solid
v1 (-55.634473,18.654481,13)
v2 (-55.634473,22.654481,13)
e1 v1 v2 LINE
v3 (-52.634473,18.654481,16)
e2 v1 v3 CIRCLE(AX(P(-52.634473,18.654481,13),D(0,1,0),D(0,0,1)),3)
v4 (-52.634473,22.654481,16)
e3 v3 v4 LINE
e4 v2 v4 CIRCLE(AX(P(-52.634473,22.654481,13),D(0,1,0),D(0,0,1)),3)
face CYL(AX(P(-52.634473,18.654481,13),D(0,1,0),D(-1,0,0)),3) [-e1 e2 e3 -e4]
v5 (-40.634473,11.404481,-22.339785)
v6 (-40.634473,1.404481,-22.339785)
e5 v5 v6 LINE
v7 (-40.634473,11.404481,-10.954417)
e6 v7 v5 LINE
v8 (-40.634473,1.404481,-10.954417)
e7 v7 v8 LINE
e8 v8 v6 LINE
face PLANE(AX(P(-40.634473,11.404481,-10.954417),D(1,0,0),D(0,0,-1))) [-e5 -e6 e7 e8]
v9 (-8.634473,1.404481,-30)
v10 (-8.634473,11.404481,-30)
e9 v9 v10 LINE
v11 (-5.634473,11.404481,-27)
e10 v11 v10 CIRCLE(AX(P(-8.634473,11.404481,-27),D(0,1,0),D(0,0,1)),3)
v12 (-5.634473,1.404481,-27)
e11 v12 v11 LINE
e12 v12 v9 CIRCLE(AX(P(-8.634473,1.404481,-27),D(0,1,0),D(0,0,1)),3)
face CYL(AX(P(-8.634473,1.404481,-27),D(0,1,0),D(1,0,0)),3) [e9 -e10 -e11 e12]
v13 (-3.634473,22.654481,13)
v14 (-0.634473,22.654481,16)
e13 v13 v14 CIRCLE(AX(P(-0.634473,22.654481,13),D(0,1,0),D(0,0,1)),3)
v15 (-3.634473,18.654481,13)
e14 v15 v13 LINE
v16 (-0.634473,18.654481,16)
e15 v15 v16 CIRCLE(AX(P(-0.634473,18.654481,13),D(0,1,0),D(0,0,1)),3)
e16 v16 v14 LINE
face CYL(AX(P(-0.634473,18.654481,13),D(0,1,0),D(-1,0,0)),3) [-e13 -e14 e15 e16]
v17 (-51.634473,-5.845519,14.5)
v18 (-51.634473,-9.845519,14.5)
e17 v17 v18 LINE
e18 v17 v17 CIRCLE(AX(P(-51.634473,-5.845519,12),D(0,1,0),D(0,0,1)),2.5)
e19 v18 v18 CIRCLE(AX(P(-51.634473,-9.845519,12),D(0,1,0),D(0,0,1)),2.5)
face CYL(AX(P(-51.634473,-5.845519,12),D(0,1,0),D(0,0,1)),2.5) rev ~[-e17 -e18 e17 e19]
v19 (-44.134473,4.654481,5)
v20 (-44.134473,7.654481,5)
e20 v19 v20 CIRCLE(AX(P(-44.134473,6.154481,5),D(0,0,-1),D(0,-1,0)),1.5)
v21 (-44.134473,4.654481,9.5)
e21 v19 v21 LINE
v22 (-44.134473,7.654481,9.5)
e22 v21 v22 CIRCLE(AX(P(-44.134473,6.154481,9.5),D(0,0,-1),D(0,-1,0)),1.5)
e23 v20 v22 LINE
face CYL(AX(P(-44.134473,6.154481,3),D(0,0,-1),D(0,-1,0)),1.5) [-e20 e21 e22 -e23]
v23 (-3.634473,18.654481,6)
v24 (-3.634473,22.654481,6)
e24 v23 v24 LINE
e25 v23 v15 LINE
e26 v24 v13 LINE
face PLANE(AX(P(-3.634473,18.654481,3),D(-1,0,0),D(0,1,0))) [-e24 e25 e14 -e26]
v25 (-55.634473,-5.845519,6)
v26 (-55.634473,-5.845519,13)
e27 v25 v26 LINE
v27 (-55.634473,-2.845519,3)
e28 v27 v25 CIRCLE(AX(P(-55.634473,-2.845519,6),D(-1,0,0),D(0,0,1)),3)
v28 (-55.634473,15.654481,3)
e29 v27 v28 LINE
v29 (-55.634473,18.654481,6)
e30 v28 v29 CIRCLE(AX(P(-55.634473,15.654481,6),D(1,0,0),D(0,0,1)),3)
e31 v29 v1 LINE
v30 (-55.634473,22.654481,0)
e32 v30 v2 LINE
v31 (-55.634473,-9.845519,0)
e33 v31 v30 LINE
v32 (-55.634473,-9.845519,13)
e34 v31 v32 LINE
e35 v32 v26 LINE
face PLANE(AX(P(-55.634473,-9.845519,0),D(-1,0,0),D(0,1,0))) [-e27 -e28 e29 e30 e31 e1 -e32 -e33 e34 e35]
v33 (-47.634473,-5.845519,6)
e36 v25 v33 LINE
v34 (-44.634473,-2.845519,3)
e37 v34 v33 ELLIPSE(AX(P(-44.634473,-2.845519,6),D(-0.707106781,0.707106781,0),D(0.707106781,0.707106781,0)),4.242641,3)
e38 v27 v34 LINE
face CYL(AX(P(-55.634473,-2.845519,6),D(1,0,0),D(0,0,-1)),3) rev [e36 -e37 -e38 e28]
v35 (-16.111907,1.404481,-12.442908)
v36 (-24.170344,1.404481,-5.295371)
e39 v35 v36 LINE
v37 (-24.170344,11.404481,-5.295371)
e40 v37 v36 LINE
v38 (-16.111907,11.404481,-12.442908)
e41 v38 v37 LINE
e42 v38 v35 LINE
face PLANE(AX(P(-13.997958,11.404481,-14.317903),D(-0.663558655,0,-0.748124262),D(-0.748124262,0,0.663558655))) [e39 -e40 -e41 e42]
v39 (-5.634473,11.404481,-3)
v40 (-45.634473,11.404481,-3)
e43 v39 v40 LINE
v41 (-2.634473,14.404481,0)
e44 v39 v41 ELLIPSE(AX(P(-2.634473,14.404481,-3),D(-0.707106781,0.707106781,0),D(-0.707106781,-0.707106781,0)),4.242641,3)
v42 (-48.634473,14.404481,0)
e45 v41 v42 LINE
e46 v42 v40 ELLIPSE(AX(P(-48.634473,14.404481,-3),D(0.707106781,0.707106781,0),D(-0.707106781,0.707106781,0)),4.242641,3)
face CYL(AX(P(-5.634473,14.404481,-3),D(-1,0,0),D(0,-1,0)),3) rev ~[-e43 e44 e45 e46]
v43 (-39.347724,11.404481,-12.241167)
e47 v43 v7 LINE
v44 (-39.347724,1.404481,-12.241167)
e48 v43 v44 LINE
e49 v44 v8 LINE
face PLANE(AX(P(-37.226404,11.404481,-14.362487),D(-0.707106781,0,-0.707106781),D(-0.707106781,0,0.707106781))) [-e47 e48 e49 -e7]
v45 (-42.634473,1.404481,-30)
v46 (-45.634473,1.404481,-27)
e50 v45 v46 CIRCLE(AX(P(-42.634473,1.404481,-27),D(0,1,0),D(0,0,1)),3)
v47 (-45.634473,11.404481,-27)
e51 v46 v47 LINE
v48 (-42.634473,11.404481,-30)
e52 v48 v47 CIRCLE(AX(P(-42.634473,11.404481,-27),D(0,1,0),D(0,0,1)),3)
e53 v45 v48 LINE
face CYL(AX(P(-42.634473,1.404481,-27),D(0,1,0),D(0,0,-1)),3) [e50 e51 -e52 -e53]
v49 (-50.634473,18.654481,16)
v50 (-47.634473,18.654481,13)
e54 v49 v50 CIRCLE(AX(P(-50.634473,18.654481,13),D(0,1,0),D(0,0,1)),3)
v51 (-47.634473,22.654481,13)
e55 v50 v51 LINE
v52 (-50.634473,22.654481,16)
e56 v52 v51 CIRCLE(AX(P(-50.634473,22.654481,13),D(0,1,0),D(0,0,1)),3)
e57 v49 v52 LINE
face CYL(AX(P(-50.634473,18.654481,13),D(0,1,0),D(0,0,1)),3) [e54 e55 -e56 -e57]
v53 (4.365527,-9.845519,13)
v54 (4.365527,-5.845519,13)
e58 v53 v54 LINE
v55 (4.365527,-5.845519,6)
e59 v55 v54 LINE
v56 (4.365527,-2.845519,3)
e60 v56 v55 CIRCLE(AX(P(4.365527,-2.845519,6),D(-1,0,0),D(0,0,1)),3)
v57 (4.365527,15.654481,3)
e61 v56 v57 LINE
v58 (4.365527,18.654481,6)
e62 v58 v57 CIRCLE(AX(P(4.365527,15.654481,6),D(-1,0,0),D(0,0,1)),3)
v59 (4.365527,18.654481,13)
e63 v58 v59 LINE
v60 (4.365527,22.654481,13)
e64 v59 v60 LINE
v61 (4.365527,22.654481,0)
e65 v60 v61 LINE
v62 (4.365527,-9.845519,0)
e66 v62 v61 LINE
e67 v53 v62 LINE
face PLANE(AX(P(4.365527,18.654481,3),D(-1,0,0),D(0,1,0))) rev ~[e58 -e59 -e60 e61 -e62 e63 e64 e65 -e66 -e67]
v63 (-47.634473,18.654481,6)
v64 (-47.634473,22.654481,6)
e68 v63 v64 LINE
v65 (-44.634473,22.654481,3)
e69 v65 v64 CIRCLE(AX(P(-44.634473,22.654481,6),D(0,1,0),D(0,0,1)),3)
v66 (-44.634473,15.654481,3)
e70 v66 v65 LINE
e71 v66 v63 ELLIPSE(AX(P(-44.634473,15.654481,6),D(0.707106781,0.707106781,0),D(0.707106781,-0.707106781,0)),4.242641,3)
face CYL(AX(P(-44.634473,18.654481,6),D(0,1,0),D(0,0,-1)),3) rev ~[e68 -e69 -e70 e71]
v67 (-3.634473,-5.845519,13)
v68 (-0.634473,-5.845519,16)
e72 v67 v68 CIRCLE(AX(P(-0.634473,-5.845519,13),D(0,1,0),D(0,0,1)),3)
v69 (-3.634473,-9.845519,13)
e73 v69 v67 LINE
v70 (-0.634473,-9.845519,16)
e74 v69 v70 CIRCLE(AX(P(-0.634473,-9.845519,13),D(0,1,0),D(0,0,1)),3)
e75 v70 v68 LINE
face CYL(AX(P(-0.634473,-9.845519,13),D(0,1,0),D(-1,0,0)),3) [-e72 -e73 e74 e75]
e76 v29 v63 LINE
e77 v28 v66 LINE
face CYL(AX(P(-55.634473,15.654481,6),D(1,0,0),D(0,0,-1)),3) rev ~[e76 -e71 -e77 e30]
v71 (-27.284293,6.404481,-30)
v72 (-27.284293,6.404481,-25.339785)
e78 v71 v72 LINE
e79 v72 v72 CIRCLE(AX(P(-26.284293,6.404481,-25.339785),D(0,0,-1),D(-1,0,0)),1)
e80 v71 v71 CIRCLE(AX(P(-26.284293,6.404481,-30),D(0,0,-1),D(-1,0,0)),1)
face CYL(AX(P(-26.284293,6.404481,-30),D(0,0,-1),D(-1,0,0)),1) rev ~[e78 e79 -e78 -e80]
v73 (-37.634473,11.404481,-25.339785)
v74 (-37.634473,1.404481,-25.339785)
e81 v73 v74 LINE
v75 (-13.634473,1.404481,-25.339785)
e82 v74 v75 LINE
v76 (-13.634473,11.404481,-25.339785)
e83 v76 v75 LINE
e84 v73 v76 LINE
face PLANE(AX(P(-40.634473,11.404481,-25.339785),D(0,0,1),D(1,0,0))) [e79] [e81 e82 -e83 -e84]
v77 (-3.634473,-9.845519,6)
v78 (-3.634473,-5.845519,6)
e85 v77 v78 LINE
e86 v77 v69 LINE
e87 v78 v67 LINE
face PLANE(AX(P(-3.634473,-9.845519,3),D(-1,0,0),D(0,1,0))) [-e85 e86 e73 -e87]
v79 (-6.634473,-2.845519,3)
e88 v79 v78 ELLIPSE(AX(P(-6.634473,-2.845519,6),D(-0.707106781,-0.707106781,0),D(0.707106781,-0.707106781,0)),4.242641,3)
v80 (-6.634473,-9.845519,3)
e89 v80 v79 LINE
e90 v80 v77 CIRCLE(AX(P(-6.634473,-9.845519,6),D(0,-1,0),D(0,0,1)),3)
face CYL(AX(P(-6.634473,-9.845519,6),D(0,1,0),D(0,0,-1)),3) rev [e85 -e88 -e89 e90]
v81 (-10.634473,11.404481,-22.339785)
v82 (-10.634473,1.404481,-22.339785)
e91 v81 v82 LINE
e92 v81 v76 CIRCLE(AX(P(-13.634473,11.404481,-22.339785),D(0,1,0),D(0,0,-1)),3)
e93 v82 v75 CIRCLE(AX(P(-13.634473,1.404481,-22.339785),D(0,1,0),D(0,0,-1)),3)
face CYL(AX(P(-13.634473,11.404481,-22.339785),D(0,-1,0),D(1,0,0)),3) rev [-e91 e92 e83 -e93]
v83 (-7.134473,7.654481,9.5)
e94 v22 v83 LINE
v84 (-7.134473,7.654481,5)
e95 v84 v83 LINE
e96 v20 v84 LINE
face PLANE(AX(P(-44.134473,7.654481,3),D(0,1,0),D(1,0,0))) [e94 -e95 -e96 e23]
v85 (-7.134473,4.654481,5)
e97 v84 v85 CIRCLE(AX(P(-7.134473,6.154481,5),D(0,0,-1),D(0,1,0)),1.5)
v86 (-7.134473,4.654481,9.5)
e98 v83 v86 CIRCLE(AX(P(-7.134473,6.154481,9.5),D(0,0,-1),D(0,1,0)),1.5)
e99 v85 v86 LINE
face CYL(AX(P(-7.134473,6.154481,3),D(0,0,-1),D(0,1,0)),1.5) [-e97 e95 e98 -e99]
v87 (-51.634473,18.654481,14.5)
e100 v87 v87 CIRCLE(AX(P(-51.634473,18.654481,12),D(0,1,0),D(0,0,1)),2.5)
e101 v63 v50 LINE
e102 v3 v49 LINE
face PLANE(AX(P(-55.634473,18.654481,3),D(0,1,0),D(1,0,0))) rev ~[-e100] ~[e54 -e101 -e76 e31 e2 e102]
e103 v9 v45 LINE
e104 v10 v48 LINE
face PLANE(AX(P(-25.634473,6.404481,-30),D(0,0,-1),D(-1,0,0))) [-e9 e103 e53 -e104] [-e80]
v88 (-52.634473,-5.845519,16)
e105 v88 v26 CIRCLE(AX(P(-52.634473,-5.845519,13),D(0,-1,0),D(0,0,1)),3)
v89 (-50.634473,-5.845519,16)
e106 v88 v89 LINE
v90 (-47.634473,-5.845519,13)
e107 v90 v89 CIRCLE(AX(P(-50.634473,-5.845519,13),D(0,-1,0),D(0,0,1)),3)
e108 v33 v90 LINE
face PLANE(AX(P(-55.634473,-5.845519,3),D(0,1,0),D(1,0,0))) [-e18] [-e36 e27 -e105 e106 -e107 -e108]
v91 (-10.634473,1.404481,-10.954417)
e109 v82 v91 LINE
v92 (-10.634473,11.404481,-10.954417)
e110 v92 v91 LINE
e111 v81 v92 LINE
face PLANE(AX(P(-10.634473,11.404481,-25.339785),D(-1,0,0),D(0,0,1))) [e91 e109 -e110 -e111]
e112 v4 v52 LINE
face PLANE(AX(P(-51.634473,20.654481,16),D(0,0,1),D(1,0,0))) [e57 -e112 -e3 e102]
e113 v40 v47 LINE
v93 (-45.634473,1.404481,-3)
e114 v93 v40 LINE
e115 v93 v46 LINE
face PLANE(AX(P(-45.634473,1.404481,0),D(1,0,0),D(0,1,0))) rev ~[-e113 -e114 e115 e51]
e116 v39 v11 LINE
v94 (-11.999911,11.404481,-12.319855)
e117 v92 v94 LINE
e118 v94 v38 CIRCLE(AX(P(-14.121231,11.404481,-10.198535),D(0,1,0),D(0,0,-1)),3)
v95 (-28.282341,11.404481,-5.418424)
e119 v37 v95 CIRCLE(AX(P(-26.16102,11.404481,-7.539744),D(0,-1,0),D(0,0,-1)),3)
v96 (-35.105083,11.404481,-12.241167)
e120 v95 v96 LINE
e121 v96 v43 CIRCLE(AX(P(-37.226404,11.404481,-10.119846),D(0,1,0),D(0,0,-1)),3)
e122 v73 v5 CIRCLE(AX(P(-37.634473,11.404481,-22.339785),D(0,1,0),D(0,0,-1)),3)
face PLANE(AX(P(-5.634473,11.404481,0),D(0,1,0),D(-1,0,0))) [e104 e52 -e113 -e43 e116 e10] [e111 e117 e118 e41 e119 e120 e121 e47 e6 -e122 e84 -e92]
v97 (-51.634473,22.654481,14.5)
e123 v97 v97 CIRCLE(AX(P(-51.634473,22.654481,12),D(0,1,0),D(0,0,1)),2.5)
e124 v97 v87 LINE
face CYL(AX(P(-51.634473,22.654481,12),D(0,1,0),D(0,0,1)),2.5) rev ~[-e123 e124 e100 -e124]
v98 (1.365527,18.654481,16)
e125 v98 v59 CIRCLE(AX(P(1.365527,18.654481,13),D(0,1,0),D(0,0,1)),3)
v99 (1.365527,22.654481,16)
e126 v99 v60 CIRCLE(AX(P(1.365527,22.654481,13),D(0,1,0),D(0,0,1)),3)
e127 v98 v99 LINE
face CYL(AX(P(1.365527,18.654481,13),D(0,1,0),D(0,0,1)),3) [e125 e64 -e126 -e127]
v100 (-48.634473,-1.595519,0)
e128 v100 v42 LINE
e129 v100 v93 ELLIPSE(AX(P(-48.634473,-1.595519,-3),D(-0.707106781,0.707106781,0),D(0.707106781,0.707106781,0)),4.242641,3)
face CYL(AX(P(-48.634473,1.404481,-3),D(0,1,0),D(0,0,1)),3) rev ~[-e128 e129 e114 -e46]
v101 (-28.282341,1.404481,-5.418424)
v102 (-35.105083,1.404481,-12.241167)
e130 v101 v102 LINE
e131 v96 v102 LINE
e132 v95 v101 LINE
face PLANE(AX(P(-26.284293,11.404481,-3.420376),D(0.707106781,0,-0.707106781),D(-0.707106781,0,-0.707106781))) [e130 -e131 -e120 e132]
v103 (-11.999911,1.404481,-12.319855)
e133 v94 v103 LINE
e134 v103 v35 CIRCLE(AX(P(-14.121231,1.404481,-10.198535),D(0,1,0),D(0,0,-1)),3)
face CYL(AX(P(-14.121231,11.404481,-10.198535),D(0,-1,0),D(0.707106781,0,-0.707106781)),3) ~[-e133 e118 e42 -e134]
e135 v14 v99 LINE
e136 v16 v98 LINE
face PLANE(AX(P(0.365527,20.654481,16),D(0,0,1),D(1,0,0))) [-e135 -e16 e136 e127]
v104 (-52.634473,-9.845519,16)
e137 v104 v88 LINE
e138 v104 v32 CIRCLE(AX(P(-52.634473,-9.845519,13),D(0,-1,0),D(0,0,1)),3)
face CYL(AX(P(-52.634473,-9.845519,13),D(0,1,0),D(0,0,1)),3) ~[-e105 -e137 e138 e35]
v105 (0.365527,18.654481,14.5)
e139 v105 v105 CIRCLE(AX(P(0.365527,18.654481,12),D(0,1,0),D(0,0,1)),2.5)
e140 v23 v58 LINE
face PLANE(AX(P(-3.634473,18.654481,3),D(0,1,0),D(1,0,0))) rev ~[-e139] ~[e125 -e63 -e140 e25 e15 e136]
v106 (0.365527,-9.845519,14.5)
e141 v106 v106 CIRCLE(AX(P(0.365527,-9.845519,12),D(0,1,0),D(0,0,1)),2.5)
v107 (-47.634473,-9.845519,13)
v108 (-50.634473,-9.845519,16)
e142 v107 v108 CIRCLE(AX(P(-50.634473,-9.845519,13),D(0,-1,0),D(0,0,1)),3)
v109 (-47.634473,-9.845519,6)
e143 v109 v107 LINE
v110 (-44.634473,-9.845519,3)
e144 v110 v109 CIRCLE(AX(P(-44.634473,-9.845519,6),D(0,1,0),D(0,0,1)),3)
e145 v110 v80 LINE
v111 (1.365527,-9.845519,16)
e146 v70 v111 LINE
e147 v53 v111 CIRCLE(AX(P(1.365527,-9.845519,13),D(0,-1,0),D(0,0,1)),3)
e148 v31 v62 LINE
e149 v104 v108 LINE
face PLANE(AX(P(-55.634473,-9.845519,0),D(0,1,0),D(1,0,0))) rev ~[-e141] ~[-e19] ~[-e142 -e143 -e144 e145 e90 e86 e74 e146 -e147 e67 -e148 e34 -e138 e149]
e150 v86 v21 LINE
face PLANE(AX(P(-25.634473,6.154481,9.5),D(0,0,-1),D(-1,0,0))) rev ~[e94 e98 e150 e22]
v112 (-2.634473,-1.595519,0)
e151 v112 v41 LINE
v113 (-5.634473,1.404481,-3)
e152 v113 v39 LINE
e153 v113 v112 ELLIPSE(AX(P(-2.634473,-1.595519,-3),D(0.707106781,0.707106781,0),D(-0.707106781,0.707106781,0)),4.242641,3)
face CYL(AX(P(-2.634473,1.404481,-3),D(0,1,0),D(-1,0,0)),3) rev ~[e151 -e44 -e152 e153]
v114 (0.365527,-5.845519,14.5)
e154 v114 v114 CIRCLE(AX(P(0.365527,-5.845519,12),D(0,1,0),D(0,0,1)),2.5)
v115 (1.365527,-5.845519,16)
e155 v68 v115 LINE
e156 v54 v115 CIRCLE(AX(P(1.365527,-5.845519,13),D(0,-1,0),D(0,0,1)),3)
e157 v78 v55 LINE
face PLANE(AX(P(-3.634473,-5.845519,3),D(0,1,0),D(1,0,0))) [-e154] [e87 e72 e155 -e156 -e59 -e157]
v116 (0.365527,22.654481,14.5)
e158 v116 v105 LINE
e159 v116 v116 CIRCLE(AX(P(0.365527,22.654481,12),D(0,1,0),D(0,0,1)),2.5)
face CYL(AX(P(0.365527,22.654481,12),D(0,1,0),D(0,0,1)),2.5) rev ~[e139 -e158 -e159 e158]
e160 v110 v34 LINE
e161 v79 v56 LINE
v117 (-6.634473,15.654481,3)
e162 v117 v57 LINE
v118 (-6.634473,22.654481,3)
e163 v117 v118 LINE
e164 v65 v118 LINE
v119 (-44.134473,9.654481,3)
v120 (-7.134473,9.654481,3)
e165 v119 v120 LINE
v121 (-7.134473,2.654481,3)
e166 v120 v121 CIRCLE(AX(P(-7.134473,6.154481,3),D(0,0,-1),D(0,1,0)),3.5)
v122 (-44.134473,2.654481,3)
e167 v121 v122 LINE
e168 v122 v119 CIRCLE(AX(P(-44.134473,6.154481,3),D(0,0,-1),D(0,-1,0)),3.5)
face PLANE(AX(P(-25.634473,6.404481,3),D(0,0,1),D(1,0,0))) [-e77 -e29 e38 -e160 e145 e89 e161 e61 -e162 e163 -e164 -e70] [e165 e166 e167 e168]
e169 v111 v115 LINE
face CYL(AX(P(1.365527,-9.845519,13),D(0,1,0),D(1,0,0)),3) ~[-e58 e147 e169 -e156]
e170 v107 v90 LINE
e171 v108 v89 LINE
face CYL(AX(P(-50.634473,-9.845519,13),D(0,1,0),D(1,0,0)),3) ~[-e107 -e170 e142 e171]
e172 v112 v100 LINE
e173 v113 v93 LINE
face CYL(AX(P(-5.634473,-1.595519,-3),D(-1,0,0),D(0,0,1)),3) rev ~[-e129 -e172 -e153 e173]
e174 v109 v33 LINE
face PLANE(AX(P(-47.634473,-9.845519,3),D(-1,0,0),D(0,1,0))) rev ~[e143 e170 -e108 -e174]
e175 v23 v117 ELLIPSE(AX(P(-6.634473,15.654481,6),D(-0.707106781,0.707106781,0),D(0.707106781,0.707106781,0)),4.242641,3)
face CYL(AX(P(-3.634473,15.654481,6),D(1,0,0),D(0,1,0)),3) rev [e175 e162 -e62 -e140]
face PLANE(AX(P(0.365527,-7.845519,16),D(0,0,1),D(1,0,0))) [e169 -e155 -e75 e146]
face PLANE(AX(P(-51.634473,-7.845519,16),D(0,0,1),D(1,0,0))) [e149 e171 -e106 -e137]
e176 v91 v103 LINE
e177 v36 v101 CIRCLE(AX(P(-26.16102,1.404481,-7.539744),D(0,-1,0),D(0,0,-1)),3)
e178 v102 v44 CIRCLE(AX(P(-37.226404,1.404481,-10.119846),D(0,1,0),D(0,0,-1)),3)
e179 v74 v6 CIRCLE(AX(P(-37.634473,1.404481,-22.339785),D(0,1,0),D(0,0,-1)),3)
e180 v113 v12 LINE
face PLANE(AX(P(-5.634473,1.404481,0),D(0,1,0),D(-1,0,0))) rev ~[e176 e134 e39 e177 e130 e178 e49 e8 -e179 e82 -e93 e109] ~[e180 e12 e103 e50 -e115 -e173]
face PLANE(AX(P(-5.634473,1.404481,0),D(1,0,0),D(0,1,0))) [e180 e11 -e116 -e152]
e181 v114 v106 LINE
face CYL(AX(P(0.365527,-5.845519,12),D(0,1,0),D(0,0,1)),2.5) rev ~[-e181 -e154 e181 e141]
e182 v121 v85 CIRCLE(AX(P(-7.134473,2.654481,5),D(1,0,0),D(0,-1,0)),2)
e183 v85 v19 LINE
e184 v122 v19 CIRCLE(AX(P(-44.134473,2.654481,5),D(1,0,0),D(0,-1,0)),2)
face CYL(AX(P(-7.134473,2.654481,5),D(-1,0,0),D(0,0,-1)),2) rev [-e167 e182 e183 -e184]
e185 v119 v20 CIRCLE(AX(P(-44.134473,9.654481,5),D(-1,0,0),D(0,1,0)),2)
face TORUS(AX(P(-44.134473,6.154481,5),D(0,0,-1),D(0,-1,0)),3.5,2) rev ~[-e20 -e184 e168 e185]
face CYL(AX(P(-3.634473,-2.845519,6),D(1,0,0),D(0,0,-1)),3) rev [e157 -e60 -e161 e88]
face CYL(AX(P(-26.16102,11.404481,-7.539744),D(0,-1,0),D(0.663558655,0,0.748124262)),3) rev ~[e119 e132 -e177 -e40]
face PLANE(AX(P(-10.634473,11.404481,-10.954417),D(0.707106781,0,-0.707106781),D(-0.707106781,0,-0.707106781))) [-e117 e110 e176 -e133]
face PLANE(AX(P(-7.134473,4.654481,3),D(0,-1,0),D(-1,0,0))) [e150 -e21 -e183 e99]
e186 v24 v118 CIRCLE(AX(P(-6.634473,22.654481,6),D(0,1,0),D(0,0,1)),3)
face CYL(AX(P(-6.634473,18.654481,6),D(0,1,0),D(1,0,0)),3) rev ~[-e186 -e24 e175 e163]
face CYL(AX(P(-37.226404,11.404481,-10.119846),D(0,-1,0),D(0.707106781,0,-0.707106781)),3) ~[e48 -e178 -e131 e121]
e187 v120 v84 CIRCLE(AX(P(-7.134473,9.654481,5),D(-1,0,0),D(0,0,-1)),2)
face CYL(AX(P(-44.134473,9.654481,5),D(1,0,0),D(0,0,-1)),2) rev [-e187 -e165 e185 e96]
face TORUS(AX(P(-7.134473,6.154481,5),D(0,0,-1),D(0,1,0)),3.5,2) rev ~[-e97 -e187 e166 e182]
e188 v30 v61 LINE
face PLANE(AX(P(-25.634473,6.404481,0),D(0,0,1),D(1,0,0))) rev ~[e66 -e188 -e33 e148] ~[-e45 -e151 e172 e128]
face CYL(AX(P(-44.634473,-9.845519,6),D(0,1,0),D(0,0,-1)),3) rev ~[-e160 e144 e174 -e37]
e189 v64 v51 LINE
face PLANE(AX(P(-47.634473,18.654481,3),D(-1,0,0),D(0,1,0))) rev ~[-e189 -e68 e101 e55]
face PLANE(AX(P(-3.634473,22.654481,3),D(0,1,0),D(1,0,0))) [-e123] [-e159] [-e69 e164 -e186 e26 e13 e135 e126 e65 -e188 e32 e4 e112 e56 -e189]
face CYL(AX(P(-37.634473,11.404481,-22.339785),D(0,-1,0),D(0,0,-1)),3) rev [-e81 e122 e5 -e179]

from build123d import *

# Parameters (mm, degrees)
SKETCH2_W           = 60
SKETCH2_H           = 32.5
BOSS_EXTRUDE1_DEPTH = 3
SKETCH3_W           = 8
SKETCH3_H           = 4
BOSS_EXTRUDE2_DEPTH = 13
FILLET1_R           = 3
SKETCH4_R           = 2.5
CUT_EXTRUDE1_DEPTH  = 13
SKETCH5_R           = 2.5
CUT_EXTRUDE2_DEPTH  = 13
FILLET2_R           = 3
BOSS_EXTRUDE3_DEPTH = 6.5
FILLET3_R           = 2
SKETCH7_W           = 40
SKETCH7_H           = 10
BOSS_EXTRUDE4_DEPTH = 30
CUT_EXTRUDE3_DEPTH  = 30
FILLET5_R           = 3
SKETCH9_R           = 1
CUT_EXTRUDE4_DEPTH  = 5
FILLET6_R           = 3
FILLET7_R           = 3
FILLET8_R           = 3


with BuildPart() as part:
    # Sketch2 → Boss-Extrude1 (new body)
    with BuildSketch(Plane.XY):
        with Locations((-25.634473236, 6.404480792)):
            Rectangle(SKETCH2_W, SKETCH2_H)
    extrude(amount=BOSS_EXTRUDE1_DEPTH)

    # Sketch3 → Boss-Extrude2 (add)
    with BuildSketch(Plane.XY.offset(3)):
        with Locations((0.365526764, 20.654480792)):
            Rectangle(SKETCH3_W, SKETCH3_H)
        with Locations((0.365526764, -7.845519208)):
            Rectangle(SKETCH3_W, SKETCH3_H)
        with Locations((-51.634473236, 20.654480792)):
            Rectangle(SKETCH3_W, SKETCH3_H)
        with Locations((-51.634473236, -7.845519208)):
            Rectangle(SKETCH3_W, SKETCH3_H)
    extrude(amount=BOSS_EXTRUDE2_DEPTH)

    # Fillet1
    fillet1_edges = [part.edges().sort_by_distance(p)[0] for p in [
        (-55.634473236, 20.654480792, 16),
        (-47.634473236, 20.654480792, 16),
        (-55.634473236, -7.845519208, 16),
        (-47.634473236, -7.845519208, 16),
        (-3.634473236, -7.845519208, 16),
        (4.365526764, -7.845519208, 16),
        (-3.634473236, 20.654480792, 16),
        (4.365526764, 20.654480792, 16),
    ]]
    fillet(fillet1_edges, radius=FILLET1_R)

    # Sketch4 → Cut-Extrude1 (cut)
    with BuildSketch(Plane(origin=(0, 22.654480792, 0), x_dir=(1, 0, 0), z_dir=(0, 1, 0))):
        with Locations((0.365526764, -12)):
            Circle(SKETCH4_R)
        with Locations((-51.634473236, -12)):
            Circle(SKETCH4_R)
    extrude(amount=-CUT_EXTRUDE1_DEPTH, mode=Mode.SUBTRACT)

    # Sketch5 → Cut-Extrude2 (cut)
    with BuildSketch(Plane(origin=(0, -5.845519208, 0), x_dir=(1, 0, 0), z_dir=(0, 1, 0))):
        with Locations((-51.634473236, -12)):
            Circle(SKETCH5_R)
        with Locations((0.365526764, -12)):
            Circle(SKETCH5_R)
    extrude(amount=-CUT_EXTRUDE2_DEPTH, mode=Mode.SUBTRACT)

    # Fillet2
    fillet2_edges = [part.edges().sort_by_distance(p)[0] for p in [
        (-51.634473236, 18.654480792, 3),
        (-47.634473236, 20.654480792, 3),
        (-47.634473236, -7.845519208, 3),
        (-51.634473236, -5.845519208, 3),
        (-3.634473236, -7.845519208, 3),
        (0.365526764, -5.845519208, 3),
        (0.365526764, 18.654480792, 3),
        (-3.634473236, 20.654480792, 3),
    ]]
    fillet(fillet2_edges, radius=FILLET2_R)

    # Sketch6 → Boss-Extrude3 (add)
    with BuildSketch(Plane.XY.offset(3)):
        with BuildLine():
            Line((-44.134473236, 7.654480792), (-7.134473236, 7.654480792))
            ThreePointArc((-7.134473236, 7.654480792), (-5.634473236, 6.154480792), (-7.134473236, 4.654480792))
            Line((-7.134473236, 4.654480792), (-44.134473236, 4.654480792))
            ThreePointArc((-44.134473236, 4.654480792), (-45.634473236, 6.154480792), (-44.134473236, 7.654480792))
        make_face()
    extrude(amount=BOSS_EXTRUDE3_DEPTH)

    # Fillet3
    fillet3_edges = [part.edges().sort_by_distance(p)[0] for p in [
        (-5.634473236, 6.154480792, 3),
        (-25.634473236, 4.654480792, 3),
        (-45.634473236, 6.154480792, 3),
        (-25.634473236, 7.654480792, 3),
    ]]
    fillet(fillet3_edges, radius=FILLET3_R)

    # Sketch7 → Boss-Extrude4 (add)
    with BuildSketch(Plane(origin=(0, 0, 0), x_dir=(-1, 0, 0), z_dir=(0, 0, -1))):
        with Locations((25.634473236, 6.404480792)):
            Rectangle(SKETCH7_W, SKETCH7_H)
    extrude(amount=BOSS_EXTRUDE4_DEPTH)

    # Sketch8 → Cut-Extrude3 (cut)
    with BuildSketch(Plane(origin=(0, 11.404480792, 0), x_dir=(1, 0, 0), z_dir=(0, 1, 0))):
        Polygon((-10.634473236, 10.954417446), (-13.99795844, 14.31790265), (-26.284293259, 3.42037636), (-37.226403791, 14.362486892), (-40.634473236, 10.954417446), (-40.634473236, 25.339784932), (-10.634473236, 25.339784932), align=None)
    extrude(amount=-CUT_EXTRUDE3_DEPTH, mode=Mode.SUBTRACT)

    # Fillet5
    fillet5_edges = [part.edges().sort_by_distance(p)[0] for p in [
        (-10.634473236, 6.404480792, -25.339784932),
        (-40.634473236, 6.404480792, -25.339784932),
    ]]
    fillet(fillet5_edges, radius=FILLET5_R)

    # Sketch9 → Cut-Extrude4 (cut)
    with BuildSketch(Plane(origin=(0, 0, -30), x_dir=(-1, 0, 0), z_dir=(0, 0, -1))):
        with Locations((26.284293259, 6.404480792)):
            Circle(SKETCH9_R)
    extrude(amount=-CUT_EXTRUDE4_DEPTH, mode=Mode.SUBTRACT)

    # Fillet6
    fillet6_edges = [part.edges().sort_by_distance(p)[0] for p in [
        (-37.226403791, 6.404480792, -14.362486892),
        (-13.99795844, 6.404480792, -14.31790265),
        (-26.284293259, 6.404480792, -3.42037636),
    ]]
    fillet(fillet6_edges, radius=FILLET6_R)

    # Fillet7
    fillet7_edges = [part.edges().sort_by_distance(p)[0] for p in [
        (-5.634473236, 6.404480792, 0),
        (-25.634473236, 1.404480792, 0),
        (-45.634473236, 6.404480792, 0),
        (-25.634473236, 11.404480792, 0),
    ]]
    fillet(fillet7_edges, radius=FILLET7_R)

    # Fillet8
    fillet8_edges = [part.edges().sort_by_distance(p)[0] for p in [
        (-5.634473236, 6.404480792, -30),
        (-45.634473236, 6.404480792, -30),
    ]]
    fillet(fillet8_edges, radius=FILLET8_R)


solid = part.part
